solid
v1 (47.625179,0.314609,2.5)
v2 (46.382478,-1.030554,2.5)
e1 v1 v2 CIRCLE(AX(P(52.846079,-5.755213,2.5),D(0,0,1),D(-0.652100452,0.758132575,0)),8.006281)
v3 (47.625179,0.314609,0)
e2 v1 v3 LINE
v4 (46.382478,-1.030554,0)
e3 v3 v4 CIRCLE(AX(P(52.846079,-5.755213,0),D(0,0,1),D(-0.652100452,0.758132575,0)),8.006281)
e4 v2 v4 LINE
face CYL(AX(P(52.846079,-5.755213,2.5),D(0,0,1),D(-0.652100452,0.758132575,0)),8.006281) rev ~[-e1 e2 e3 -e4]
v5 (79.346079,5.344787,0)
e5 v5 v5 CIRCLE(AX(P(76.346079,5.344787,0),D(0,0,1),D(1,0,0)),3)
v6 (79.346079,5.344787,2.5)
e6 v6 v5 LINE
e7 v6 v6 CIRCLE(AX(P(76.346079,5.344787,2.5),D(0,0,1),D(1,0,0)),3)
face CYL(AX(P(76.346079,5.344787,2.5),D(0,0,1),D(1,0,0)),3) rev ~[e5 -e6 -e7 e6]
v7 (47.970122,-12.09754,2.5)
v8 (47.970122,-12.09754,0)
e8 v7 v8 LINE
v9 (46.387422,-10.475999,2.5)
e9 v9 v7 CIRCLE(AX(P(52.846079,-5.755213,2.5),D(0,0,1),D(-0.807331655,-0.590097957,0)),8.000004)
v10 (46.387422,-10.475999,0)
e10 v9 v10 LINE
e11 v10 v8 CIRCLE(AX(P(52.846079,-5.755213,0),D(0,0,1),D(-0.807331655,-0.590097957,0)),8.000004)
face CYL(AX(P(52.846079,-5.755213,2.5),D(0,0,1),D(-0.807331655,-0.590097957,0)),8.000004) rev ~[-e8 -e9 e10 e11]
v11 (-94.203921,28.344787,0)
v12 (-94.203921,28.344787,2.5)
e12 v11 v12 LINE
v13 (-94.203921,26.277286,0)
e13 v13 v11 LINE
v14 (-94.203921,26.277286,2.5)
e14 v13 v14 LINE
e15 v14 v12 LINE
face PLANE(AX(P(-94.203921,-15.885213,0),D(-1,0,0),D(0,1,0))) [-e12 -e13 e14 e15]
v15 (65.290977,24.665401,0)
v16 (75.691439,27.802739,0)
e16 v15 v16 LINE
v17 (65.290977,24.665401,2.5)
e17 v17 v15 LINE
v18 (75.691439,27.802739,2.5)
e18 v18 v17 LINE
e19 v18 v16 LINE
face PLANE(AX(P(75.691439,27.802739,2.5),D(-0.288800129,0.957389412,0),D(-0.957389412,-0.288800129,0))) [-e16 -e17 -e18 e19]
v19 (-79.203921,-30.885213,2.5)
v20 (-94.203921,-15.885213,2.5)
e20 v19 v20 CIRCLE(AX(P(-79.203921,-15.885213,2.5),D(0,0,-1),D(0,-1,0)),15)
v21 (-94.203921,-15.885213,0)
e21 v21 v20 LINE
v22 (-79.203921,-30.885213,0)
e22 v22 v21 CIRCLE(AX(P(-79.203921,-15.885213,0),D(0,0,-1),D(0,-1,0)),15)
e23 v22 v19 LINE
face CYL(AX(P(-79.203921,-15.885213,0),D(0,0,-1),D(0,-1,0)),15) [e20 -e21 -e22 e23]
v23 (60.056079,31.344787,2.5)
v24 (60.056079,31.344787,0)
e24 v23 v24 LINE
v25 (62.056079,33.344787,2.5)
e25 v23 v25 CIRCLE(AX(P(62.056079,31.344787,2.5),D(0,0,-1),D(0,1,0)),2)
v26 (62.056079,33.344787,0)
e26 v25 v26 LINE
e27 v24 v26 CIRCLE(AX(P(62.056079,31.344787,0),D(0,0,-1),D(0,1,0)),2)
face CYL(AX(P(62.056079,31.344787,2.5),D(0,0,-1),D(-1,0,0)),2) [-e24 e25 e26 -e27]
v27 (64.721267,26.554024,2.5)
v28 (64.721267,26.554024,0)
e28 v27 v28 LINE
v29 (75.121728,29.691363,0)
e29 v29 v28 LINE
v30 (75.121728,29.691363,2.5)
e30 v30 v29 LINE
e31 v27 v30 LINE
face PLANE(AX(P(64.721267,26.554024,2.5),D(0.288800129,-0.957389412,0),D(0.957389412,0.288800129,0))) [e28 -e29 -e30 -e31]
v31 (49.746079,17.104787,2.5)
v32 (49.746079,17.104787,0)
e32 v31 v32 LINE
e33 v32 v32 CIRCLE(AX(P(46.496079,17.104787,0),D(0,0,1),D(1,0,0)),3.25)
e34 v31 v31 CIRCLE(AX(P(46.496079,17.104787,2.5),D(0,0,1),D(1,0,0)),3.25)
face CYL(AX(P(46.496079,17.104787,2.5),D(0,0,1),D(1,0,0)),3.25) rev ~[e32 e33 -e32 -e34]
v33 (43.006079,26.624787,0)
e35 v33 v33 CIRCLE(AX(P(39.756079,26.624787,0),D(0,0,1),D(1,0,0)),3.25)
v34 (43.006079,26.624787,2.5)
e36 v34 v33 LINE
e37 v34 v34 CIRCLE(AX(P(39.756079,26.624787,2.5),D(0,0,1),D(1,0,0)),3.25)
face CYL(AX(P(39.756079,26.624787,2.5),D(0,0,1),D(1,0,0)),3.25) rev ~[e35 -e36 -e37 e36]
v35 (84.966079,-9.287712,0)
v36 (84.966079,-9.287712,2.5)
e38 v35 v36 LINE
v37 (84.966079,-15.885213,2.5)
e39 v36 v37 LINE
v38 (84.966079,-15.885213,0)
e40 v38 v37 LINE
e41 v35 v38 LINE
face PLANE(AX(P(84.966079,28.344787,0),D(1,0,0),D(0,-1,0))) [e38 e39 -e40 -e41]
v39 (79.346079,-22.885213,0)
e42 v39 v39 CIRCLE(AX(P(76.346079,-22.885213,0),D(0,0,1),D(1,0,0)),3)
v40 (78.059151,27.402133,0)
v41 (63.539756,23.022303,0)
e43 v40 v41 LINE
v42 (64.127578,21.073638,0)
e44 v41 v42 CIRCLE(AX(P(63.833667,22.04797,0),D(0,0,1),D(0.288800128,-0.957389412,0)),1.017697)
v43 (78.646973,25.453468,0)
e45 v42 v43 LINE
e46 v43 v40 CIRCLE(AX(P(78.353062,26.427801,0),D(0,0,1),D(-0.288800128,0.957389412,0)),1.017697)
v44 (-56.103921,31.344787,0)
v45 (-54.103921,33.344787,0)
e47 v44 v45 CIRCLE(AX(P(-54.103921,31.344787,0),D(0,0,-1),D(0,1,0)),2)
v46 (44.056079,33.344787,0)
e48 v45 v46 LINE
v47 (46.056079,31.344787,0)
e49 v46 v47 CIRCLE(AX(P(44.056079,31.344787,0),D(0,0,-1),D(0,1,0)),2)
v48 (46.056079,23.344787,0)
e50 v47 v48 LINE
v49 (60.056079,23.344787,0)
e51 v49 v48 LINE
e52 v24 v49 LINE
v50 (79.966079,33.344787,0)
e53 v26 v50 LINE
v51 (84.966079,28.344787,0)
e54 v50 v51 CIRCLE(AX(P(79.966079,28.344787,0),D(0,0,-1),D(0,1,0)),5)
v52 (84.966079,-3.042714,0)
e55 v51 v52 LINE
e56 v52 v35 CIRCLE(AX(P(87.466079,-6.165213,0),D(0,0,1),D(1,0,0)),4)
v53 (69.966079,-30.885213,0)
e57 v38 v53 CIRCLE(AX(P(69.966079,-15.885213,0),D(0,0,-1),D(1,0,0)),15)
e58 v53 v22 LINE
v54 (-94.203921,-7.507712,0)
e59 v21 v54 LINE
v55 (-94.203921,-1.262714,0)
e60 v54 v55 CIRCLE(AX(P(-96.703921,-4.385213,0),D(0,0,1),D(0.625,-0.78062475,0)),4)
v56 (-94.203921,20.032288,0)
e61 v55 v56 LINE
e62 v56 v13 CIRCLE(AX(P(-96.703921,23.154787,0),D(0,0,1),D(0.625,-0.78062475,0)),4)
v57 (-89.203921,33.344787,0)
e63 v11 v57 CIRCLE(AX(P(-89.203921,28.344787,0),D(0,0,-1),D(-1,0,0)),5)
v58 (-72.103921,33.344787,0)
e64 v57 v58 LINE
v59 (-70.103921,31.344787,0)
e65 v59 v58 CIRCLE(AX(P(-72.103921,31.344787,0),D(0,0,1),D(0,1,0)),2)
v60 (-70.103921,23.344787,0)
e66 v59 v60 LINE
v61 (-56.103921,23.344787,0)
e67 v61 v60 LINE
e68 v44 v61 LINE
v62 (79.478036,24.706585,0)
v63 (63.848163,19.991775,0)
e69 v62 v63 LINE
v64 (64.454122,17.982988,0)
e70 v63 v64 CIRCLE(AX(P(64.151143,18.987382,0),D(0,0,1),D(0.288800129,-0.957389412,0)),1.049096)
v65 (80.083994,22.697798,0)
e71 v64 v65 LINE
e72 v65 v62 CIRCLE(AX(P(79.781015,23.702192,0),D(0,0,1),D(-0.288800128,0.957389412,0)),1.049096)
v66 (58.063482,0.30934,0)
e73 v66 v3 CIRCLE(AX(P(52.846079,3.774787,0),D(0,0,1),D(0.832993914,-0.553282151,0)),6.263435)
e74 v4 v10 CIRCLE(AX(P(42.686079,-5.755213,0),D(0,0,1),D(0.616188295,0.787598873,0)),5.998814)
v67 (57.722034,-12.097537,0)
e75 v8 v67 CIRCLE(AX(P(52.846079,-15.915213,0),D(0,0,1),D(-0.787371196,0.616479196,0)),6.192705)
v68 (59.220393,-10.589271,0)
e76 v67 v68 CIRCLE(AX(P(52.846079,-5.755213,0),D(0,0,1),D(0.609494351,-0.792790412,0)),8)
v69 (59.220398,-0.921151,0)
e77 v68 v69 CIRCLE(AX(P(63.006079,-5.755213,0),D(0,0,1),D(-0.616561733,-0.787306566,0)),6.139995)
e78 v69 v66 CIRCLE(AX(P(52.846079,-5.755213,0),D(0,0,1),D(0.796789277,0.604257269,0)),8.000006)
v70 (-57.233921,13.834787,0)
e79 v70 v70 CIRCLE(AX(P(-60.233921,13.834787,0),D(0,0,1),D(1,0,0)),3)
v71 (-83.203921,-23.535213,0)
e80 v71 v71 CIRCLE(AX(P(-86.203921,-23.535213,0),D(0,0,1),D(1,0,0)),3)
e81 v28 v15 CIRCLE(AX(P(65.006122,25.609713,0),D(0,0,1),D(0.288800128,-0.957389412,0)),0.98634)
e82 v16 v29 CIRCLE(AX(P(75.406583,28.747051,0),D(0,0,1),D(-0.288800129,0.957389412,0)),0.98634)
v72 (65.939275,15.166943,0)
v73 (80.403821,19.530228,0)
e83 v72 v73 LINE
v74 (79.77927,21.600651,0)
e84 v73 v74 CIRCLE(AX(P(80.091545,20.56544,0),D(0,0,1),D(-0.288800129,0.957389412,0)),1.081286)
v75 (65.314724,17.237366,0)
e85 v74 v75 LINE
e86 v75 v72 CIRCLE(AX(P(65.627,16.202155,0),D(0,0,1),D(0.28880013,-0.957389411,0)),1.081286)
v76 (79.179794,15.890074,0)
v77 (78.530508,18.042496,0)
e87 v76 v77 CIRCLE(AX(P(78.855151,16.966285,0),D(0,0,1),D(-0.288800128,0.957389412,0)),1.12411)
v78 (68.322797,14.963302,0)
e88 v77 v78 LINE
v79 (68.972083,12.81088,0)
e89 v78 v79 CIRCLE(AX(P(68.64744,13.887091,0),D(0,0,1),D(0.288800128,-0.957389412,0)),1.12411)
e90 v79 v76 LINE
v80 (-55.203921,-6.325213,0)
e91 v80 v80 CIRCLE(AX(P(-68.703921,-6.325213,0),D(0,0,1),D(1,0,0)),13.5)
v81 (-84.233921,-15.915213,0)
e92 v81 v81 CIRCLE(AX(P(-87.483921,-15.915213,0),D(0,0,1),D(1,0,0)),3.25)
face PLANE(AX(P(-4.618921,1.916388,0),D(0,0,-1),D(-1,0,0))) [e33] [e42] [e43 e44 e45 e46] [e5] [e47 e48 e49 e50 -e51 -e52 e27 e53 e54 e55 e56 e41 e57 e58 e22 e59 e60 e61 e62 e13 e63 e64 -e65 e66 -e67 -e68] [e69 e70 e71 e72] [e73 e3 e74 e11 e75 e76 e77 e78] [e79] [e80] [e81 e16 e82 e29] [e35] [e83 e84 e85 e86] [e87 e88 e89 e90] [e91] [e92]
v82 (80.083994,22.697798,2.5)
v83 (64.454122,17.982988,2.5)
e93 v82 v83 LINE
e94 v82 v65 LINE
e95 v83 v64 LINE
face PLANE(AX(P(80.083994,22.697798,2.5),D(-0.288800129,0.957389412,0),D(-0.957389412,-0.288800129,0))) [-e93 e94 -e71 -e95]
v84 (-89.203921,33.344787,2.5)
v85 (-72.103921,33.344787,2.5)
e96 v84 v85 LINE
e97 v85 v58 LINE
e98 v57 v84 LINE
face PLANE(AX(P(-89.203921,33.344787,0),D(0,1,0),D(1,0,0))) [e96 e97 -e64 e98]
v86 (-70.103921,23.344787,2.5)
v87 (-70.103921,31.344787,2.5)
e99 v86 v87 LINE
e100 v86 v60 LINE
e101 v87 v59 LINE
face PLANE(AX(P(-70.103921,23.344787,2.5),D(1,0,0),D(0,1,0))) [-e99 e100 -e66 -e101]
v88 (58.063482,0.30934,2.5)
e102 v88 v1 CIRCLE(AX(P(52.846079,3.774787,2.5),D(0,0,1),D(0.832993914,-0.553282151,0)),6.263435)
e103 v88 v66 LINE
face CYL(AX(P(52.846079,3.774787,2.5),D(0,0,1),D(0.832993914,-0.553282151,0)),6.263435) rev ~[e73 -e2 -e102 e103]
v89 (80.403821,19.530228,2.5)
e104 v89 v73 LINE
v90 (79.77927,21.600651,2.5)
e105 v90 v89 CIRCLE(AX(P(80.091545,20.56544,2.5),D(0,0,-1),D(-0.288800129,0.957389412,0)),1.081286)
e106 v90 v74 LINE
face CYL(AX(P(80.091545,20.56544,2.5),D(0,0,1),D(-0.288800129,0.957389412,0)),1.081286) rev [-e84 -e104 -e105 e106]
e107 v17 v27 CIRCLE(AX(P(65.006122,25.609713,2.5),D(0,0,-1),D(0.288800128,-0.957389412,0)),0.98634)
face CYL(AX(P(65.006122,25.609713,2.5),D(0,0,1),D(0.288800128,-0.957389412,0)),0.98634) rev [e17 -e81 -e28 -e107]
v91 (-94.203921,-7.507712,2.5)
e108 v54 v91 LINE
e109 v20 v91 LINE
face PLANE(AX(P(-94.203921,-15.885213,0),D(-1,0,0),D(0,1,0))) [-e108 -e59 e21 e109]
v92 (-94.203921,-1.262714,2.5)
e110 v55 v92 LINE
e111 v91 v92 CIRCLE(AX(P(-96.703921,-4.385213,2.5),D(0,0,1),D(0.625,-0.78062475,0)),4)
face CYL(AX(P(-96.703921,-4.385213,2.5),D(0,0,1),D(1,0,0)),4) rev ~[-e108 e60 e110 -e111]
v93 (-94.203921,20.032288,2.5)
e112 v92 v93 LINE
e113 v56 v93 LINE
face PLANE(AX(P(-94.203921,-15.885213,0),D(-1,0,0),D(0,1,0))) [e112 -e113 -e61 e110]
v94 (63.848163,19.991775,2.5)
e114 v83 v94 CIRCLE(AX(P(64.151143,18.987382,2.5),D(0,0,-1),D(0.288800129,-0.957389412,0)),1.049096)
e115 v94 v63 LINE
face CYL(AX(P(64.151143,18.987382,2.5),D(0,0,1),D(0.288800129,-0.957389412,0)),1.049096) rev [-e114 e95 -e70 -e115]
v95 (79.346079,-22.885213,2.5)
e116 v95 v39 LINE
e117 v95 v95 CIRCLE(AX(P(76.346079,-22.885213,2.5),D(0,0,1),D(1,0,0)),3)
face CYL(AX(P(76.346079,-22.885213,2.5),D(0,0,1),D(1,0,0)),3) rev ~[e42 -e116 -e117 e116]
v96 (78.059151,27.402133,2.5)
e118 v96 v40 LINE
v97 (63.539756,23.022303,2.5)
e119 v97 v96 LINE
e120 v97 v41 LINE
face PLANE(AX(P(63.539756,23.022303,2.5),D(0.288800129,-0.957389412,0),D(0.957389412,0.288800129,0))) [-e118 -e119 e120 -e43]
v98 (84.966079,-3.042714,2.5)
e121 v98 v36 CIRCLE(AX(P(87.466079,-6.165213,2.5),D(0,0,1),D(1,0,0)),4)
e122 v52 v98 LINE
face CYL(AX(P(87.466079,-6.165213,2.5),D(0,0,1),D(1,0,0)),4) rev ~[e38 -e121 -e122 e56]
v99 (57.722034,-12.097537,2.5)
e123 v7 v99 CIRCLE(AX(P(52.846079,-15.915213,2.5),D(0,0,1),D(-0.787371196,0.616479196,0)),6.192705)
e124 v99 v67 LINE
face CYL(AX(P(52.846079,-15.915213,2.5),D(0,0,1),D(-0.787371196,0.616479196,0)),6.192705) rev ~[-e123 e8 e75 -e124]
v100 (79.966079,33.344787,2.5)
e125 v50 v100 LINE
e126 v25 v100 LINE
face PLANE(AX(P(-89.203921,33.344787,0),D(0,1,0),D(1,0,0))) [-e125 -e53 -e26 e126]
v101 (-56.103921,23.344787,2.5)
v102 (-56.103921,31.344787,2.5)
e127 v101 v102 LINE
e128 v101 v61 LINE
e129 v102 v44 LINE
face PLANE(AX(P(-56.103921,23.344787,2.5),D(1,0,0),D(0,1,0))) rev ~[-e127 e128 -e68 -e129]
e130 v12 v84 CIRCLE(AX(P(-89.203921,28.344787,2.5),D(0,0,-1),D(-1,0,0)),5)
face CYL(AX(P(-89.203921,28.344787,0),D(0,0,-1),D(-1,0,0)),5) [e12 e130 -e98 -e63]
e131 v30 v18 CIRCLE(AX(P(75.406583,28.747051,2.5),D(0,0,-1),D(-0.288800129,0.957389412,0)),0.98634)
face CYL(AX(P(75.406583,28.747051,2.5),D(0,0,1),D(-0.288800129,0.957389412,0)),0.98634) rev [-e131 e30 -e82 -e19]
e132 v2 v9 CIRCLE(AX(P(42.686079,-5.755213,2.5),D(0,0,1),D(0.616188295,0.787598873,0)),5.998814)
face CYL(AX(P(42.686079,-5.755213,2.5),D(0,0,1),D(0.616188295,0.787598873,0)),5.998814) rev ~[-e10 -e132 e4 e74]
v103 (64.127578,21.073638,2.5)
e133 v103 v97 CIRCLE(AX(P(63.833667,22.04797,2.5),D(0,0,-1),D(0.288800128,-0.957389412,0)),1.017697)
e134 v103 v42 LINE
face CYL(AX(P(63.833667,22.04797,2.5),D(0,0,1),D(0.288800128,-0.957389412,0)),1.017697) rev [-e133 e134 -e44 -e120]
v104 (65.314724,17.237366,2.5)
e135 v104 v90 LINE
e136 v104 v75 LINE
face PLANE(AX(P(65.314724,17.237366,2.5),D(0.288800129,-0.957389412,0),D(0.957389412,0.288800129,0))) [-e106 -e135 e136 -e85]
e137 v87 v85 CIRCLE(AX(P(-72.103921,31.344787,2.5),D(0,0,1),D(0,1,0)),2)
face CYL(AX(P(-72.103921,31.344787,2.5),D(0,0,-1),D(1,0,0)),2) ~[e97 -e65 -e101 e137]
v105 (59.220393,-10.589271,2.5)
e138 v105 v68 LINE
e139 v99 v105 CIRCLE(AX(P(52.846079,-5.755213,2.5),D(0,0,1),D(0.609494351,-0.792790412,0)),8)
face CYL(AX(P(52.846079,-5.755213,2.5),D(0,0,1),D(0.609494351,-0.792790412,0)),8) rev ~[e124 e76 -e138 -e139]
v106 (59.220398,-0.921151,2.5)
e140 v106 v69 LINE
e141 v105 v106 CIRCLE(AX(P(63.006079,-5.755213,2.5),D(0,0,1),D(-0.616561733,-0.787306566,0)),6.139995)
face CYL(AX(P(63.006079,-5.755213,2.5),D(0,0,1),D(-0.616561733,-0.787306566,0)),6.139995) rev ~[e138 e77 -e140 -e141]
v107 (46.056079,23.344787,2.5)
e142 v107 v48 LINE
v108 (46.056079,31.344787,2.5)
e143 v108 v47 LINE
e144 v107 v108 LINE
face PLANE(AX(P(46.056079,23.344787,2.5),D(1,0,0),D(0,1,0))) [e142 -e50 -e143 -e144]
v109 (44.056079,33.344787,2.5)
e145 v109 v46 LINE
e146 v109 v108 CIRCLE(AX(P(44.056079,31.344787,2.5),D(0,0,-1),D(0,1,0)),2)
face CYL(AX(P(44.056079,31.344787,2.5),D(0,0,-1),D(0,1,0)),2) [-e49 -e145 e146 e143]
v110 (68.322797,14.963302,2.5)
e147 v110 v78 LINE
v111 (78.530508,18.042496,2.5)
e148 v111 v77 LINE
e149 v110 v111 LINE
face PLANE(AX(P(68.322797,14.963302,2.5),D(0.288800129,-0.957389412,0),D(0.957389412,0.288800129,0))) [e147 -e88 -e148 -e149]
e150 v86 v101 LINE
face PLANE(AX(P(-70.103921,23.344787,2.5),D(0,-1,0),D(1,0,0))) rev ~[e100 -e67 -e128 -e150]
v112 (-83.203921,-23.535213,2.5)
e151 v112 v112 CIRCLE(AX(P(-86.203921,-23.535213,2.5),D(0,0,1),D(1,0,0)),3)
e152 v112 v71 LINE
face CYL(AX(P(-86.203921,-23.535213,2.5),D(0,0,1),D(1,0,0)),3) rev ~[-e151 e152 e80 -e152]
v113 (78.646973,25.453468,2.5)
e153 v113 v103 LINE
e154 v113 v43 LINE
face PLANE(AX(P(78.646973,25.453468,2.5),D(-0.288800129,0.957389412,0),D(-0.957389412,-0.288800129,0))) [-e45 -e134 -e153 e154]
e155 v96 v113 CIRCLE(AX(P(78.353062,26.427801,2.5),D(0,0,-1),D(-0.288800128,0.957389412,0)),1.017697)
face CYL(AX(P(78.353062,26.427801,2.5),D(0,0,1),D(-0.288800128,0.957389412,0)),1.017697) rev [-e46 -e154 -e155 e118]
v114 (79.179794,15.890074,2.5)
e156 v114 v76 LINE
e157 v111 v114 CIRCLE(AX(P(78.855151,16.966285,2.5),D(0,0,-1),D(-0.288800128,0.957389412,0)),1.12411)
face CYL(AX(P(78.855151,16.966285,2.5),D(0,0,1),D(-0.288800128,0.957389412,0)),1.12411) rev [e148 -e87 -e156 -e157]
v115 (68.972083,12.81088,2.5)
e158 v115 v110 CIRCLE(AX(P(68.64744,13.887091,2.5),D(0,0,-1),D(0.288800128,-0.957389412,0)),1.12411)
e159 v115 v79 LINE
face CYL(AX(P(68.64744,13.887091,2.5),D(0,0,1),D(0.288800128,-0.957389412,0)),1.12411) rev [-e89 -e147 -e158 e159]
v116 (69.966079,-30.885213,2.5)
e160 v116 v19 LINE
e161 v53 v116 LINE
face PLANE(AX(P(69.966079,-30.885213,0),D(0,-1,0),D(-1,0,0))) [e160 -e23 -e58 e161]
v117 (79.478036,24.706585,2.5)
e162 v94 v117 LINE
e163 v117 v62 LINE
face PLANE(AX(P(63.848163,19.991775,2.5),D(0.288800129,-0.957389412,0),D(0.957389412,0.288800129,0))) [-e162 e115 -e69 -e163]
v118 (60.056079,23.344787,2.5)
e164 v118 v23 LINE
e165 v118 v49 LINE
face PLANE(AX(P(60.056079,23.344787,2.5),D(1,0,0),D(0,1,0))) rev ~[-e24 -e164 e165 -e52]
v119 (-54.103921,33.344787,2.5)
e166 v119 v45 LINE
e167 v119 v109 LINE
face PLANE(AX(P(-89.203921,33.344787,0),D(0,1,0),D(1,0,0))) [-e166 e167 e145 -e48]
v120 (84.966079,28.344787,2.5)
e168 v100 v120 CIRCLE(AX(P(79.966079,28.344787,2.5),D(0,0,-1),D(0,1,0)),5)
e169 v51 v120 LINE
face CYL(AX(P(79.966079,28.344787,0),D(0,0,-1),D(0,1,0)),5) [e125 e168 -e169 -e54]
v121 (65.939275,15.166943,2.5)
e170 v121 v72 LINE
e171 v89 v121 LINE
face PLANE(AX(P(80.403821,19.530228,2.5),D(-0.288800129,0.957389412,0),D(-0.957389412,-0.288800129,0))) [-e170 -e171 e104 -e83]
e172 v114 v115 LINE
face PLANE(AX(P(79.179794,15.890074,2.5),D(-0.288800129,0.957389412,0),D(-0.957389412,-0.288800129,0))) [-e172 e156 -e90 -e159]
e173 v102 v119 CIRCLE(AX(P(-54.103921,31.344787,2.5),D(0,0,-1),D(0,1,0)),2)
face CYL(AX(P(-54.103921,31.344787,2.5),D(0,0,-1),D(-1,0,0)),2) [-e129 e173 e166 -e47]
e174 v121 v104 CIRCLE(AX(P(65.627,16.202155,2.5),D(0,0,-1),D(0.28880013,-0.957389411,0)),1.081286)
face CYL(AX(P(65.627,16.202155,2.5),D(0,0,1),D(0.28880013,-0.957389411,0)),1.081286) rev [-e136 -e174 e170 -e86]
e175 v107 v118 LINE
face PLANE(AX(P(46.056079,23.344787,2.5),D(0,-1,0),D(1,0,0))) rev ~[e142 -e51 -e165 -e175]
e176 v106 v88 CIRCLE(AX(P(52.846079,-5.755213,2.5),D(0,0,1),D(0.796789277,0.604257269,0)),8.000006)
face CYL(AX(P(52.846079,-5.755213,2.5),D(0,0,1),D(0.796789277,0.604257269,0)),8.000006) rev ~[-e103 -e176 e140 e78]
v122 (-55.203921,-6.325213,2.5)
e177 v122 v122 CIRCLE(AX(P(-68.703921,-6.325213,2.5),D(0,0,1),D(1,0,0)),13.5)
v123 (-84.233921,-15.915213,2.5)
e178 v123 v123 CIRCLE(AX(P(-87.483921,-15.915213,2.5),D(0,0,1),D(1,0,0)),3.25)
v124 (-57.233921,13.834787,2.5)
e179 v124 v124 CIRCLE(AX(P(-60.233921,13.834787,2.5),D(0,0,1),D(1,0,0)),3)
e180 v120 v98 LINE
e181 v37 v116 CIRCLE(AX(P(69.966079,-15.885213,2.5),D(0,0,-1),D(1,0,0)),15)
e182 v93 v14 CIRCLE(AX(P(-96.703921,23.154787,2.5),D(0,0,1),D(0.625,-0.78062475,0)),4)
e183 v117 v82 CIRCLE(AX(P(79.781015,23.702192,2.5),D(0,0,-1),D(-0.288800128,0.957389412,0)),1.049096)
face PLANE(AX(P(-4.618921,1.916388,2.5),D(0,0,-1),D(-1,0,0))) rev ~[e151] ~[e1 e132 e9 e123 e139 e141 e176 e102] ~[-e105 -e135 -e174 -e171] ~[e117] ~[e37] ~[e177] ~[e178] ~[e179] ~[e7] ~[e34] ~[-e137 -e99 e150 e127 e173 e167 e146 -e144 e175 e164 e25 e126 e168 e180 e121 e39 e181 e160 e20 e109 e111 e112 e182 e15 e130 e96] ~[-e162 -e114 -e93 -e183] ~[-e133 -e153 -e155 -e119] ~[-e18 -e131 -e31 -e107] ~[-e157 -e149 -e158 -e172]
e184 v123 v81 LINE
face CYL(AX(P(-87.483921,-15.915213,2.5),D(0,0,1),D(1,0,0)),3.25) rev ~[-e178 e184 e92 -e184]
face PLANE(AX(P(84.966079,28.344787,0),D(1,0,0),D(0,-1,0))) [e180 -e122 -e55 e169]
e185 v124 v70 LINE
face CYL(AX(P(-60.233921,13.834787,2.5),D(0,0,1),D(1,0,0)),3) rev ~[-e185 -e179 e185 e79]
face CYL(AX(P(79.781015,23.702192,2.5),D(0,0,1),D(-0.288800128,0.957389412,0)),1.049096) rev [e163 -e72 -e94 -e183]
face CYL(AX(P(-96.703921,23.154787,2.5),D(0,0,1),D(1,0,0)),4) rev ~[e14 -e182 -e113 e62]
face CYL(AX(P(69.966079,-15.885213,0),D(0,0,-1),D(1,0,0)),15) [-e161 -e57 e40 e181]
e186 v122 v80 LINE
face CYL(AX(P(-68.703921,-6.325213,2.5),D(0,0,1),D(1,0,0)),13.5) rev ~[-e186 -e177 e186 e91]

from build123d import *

# Parameters (mm, degrees)
BOSS_EXTRU_1_DEPTH       = 2.5
ENL_V_MAT_EXTRU_14_DEPTH = 10
JOYSTICK_R               = 13.5
ENL_V_MAT_EXTRU_2_DEPTH  = 2.5
ESQUISSE2_W              = 14
ESQUISSE2_H              = 10
ENL_V_MAT_EXTRU_3_DEPTH  = 10
CONG_1_R                 = 2
CONG_2_R                 = 2
ESQUISSE3_W              = 14
ESQUISSE3_H              = 10
ENL_V_MAT_EXTRU_4_DEPTH  = 10
CONG_3_R                 = 2
CONG_4_R                 = 2
ENL_V_MAT_EXTRU_8_DEPTH  = 10
ESQUISSE5_R              = 3
ESQUISSE5_R_2            = 3.25
ENL_V_MAT_EXTRU_9_DEPTH  = 10
ESQUISSE6_R              = 4
ENL_V_MAT_EXTRU_15_DEPTH = 10


with BuildPart() as part:
    # Esquisse1 → Boss.-Extru.1 (new body)
    with BuildSketch(Plane.XY):
        with BuildLine():
            Line((-89.203921136, 33.34478673), (79.966078864, 33.34478673))
            ThreePointArc((79.966078864, 33.34478673), (83.50161277, 31.880320636), (84.966078864, 28.34478673))
            Line((84.966078864, 28.34478673), (84.966078864, -15.88521327))
            ThreePointArc((84.966078864, -15.88521327), (80.572680581, -26.491814988), (69.966078864, -30.88521327))
            Line((69.966078864, -30.88521327), (-79.203921136, -30.88521327))
            ThreePointArc((-79.203921136, -30.88521327), (-89.810522854, -26.491814988), (-94.203921136, -15.88521327))
            Line((-94.203921136, -15.88521327), (-94.203921136, 28.34478673))
            ThreePointArc((-94.203921136, 28.34478673), (-92.739455042, 31.880320636), (-89.203921136, 33.34478673))
        make_face()
    extrude(amount=BOSS_EXTRU_1_DEPTH)

    # 12x12 Button → Enlèv. mat.-Extru.14 (cut)
    with BuildSketch(Plane.XY.offset(2.5)):
        with BuildLine():
            ThreePointArc((47.62517912, 0.314609491), (46.965240695, -0.322324083), (46.382477581, -1.030554452))
            ThreePointArc((46.382477581, -1.030554452), (36.687266101, -5.758353734), (46.387422405, -10.475999265))
            ThreePointArc((46.387422405, -10.475999265), (47.121070973, -11.343088385), (47.970121608, -12.097539697))
            ThreePointArc((47.970121608, -12.097539697), (52.846080853, -22.107917903), (57.722033666, -12.097536564))
            ThreePointArc((57.722033666, -12.097536564), (58.521539603, -11.393399627), (59.220393145, -10.589271343))
            ThreePointArc((59.220393145, -10.589271343), (69.146073474, -5.755216476), (59.220398192, -0.921151245))
            ThreePointArc((59.220398192, -0.921151245), (58.674503702, -0.275289323), (58.063482277, 0.309339821))
            ThreePointArc((58.063482276, 0.309339821), (52.849240894, 10.038221143), (47.62517912, 0.314609492))
        make_face()
    extrude(amount=-ENL_V_MAT_EXTRU_14_DEPTH, mode=Mode.SUBTRACT)

    # Joystick → Enlèv. mat.-Extru.2 (cut)
    with BuildSketch(Plane.XY.offset(2.5)):
        with Locations((-68.703921136, -6.32521327)):
            Circle(JOYSTICK_R)
    extrude(amount=-ENL_V_MAT_EXTRU_2_DEPTH, mode=Mode.SUBTRACT)

    # Esquisse2 → Enlèv. mat.-Extru.3 (cut)
    with BuildSketch(Plane.XY.offset(2.5)):
        with Locations((53.056078864, 28.34478673)):
            Rectangle(ESQUISSE2_W, ESQUISSE2_H)
    extrude(amount=-ENL_V_MAT_EXTRU_3_DEPTH, mode=Mode.SUBTRACT)

    # Congé1
    cong_1_edges = [part.edges().sort_by_distance(p)[0] for p in [
        (46.056078864, 33.34478673, 1.25),
    ]]
    fillet(cong_1_edges, radius=CONG_1_R)

    # Congé2
    cong_2_edges = [part.edges().sort_by_distance(p)[0] for p in [
        (60.056078864, 33.34478673, 1.25),
    ]]
    fillet(cong_2_edges, radius=CONG_2_R)

    # Esquisse3 → Enlèv. mat.-Extru.4 (cut)
    with BuildSketch(Plane.XY.offset(2.5)):
        with Locations((-63.103921136, 28.34478673)):
            Rectangle(ESQUISSE3_W, ESQUISSE3_H)
    extrude(amount=-ENL_V_MAT_EXTRU_4_DEPTH, mode=Mode.SUBTRACT)

    # Congé3
    cong_3_edges = [part.edges().sort_by_distance(p)[0] for p in [
        (-70.103921136, 33.34478673, 1.25),
    ]]
    fillet(cong_3_edges, radius=CONG_3_R)

    # Congé4
    cong_4_edges = [part.edges().sort_by_distance(p)[0] for p in [
        (-56.103921136, 33.34478673, 1.25),
    ]]
    fillet(cong_4_edges, radius=CONG_4_R)

    # Esquisse4 → Enlèv. mat.-Extru.8 (cut)
    with BuildSketch(Plane.XY.offset(2.5)):
        with BuildLine():
            Line((63.848163441, 19.991775112), (79.478036154, 24.706585194))
            ThreePointArc((79.478036154, 24.706585194), (80.785408643, 24.005170837), (80.083994286, 22.697798347))
            Line((80.083994286, 22.697798347), (64.454121573, 17.982988266))
            ThreePointArc((64.454121573, 17.982988266), (63.146749084, 18.684402623), (63.848163441, 19.991775112))
        make_face()
        with BuildLine():
            Line((63.539756046, 23.02230266), (78.059151304, 27.402133027))
            ThreePointArc((78.059151304, 27.402133027), (79.327394653, 26.721711723), (78.646973349, 25.453468374))
            Line((78.646973349, 25.453468374), (64.127578092, 21.073638007))
            ThreePointArc((64.127578092, 21.073638007), (62.859334743, 21.754059311), (63.539756046, 23.02230266))
        make_face()
        with BuildLine():
            Line((64.721267087, 26.554024385), (75.121728293, 29.691362753))
            ThreePointArc((75.121728293, 29.691362753), (76.350895216, 29.031906221), (75.691438685, 27.802739299))
            Line((75.691438685, 27.802739299), (65.290977478, 24.665400931))
            ThreePointArc((65.290977478, 24.665400931), (64.061810556, 25.324857462), (64.721267087, 26.554024385))
        make_face()
        with BuildLine():
            Line((65.314724126, 17.237366416), (79.779269942, 21.600651242))
            ThreePointArc((79.779269942, 21.600651242), (81.126757031, 20.877715126), (80.403820915, 19.530228036))
            Line((80.403820915, 19.530228036), (65.939275099, 15.166943211))
            ThreePointArc((65.939275099, 15.166943211), (64.591788009, 15.889879327), (65.314724126, 17.237366416))
        make_face()
        with BuildLine():
            Line((68.322797362, 14.963301678), (78.530507851, 18.042496065))
            ThreePointArc((78.530507851, 18.042496065), (79.931361718, 17.290928304), (79.179793957, 15.890074436))
            Line((79.179793957, 15.890074436), (68.972083468, 12.810880049))
            ThreePointArc((68.972083468, 12.810880049), (67.571229601, 13.562447811), (68.322797362, 14.963301678))
        make_face()
    extrude(amount=-ENL_V_MAT_EXTRU_8_DEPTH, mode=Mode.SUBTRACT)

    # Esquisse5 → Enlèv. mat.-Extru.9 (cut)
    with BuildSketch(Plane.XY.offset(2.5)):
        with Locations((76.346078864, -22.88521327)):
            Circle(ESQUISSE5_R)
        with Locations((-86.203921136, -23.53521327)):
            Circle(ESQUISSE5_R)
        with Locations((76.346078864, 5.34478673)):
            Circle(ESQUISSE5_R)
        with Locations((-60.233921136, 13.83478673)):
            Circle(ESQUISSE5_R)
        with Locations((-87.483921136, -15.91521327)):
            Circle(ESQUISSE5_R_2)
        with Locations((39.756078864, 26.62478673)):
            Circle(ESQUISSE5_R_2)
        with Locations((46.496078864, 17.10478673)):
            Circle(ESQUISSE5_R_2)
    extrude(amount=-ENL_V_MAT_EXTRU_9_DEPTH, mode=Mode.SUBTRACT)

    # Esquisse6 → Enlèv. mat.-Extru.15 (cut)
    with BuildSketch(Plane.XY.offset(2.5)):
        with Locations((-96.703921136, -4.38521327)):
            Circle(ESQUISSE6_R)
        with Locations((-96.703921136, 23.15478673)):
            Circle(ESQUISSE6_R)
        with Locations((87.466078864, -6.16521327)):
            Circle(ESQUISSE6_R)
    extrude(amount=-ENL_V_MAT_EXTRU_15_DEPTH, mode=Mode.SUBTRACT)


solid = part.part
